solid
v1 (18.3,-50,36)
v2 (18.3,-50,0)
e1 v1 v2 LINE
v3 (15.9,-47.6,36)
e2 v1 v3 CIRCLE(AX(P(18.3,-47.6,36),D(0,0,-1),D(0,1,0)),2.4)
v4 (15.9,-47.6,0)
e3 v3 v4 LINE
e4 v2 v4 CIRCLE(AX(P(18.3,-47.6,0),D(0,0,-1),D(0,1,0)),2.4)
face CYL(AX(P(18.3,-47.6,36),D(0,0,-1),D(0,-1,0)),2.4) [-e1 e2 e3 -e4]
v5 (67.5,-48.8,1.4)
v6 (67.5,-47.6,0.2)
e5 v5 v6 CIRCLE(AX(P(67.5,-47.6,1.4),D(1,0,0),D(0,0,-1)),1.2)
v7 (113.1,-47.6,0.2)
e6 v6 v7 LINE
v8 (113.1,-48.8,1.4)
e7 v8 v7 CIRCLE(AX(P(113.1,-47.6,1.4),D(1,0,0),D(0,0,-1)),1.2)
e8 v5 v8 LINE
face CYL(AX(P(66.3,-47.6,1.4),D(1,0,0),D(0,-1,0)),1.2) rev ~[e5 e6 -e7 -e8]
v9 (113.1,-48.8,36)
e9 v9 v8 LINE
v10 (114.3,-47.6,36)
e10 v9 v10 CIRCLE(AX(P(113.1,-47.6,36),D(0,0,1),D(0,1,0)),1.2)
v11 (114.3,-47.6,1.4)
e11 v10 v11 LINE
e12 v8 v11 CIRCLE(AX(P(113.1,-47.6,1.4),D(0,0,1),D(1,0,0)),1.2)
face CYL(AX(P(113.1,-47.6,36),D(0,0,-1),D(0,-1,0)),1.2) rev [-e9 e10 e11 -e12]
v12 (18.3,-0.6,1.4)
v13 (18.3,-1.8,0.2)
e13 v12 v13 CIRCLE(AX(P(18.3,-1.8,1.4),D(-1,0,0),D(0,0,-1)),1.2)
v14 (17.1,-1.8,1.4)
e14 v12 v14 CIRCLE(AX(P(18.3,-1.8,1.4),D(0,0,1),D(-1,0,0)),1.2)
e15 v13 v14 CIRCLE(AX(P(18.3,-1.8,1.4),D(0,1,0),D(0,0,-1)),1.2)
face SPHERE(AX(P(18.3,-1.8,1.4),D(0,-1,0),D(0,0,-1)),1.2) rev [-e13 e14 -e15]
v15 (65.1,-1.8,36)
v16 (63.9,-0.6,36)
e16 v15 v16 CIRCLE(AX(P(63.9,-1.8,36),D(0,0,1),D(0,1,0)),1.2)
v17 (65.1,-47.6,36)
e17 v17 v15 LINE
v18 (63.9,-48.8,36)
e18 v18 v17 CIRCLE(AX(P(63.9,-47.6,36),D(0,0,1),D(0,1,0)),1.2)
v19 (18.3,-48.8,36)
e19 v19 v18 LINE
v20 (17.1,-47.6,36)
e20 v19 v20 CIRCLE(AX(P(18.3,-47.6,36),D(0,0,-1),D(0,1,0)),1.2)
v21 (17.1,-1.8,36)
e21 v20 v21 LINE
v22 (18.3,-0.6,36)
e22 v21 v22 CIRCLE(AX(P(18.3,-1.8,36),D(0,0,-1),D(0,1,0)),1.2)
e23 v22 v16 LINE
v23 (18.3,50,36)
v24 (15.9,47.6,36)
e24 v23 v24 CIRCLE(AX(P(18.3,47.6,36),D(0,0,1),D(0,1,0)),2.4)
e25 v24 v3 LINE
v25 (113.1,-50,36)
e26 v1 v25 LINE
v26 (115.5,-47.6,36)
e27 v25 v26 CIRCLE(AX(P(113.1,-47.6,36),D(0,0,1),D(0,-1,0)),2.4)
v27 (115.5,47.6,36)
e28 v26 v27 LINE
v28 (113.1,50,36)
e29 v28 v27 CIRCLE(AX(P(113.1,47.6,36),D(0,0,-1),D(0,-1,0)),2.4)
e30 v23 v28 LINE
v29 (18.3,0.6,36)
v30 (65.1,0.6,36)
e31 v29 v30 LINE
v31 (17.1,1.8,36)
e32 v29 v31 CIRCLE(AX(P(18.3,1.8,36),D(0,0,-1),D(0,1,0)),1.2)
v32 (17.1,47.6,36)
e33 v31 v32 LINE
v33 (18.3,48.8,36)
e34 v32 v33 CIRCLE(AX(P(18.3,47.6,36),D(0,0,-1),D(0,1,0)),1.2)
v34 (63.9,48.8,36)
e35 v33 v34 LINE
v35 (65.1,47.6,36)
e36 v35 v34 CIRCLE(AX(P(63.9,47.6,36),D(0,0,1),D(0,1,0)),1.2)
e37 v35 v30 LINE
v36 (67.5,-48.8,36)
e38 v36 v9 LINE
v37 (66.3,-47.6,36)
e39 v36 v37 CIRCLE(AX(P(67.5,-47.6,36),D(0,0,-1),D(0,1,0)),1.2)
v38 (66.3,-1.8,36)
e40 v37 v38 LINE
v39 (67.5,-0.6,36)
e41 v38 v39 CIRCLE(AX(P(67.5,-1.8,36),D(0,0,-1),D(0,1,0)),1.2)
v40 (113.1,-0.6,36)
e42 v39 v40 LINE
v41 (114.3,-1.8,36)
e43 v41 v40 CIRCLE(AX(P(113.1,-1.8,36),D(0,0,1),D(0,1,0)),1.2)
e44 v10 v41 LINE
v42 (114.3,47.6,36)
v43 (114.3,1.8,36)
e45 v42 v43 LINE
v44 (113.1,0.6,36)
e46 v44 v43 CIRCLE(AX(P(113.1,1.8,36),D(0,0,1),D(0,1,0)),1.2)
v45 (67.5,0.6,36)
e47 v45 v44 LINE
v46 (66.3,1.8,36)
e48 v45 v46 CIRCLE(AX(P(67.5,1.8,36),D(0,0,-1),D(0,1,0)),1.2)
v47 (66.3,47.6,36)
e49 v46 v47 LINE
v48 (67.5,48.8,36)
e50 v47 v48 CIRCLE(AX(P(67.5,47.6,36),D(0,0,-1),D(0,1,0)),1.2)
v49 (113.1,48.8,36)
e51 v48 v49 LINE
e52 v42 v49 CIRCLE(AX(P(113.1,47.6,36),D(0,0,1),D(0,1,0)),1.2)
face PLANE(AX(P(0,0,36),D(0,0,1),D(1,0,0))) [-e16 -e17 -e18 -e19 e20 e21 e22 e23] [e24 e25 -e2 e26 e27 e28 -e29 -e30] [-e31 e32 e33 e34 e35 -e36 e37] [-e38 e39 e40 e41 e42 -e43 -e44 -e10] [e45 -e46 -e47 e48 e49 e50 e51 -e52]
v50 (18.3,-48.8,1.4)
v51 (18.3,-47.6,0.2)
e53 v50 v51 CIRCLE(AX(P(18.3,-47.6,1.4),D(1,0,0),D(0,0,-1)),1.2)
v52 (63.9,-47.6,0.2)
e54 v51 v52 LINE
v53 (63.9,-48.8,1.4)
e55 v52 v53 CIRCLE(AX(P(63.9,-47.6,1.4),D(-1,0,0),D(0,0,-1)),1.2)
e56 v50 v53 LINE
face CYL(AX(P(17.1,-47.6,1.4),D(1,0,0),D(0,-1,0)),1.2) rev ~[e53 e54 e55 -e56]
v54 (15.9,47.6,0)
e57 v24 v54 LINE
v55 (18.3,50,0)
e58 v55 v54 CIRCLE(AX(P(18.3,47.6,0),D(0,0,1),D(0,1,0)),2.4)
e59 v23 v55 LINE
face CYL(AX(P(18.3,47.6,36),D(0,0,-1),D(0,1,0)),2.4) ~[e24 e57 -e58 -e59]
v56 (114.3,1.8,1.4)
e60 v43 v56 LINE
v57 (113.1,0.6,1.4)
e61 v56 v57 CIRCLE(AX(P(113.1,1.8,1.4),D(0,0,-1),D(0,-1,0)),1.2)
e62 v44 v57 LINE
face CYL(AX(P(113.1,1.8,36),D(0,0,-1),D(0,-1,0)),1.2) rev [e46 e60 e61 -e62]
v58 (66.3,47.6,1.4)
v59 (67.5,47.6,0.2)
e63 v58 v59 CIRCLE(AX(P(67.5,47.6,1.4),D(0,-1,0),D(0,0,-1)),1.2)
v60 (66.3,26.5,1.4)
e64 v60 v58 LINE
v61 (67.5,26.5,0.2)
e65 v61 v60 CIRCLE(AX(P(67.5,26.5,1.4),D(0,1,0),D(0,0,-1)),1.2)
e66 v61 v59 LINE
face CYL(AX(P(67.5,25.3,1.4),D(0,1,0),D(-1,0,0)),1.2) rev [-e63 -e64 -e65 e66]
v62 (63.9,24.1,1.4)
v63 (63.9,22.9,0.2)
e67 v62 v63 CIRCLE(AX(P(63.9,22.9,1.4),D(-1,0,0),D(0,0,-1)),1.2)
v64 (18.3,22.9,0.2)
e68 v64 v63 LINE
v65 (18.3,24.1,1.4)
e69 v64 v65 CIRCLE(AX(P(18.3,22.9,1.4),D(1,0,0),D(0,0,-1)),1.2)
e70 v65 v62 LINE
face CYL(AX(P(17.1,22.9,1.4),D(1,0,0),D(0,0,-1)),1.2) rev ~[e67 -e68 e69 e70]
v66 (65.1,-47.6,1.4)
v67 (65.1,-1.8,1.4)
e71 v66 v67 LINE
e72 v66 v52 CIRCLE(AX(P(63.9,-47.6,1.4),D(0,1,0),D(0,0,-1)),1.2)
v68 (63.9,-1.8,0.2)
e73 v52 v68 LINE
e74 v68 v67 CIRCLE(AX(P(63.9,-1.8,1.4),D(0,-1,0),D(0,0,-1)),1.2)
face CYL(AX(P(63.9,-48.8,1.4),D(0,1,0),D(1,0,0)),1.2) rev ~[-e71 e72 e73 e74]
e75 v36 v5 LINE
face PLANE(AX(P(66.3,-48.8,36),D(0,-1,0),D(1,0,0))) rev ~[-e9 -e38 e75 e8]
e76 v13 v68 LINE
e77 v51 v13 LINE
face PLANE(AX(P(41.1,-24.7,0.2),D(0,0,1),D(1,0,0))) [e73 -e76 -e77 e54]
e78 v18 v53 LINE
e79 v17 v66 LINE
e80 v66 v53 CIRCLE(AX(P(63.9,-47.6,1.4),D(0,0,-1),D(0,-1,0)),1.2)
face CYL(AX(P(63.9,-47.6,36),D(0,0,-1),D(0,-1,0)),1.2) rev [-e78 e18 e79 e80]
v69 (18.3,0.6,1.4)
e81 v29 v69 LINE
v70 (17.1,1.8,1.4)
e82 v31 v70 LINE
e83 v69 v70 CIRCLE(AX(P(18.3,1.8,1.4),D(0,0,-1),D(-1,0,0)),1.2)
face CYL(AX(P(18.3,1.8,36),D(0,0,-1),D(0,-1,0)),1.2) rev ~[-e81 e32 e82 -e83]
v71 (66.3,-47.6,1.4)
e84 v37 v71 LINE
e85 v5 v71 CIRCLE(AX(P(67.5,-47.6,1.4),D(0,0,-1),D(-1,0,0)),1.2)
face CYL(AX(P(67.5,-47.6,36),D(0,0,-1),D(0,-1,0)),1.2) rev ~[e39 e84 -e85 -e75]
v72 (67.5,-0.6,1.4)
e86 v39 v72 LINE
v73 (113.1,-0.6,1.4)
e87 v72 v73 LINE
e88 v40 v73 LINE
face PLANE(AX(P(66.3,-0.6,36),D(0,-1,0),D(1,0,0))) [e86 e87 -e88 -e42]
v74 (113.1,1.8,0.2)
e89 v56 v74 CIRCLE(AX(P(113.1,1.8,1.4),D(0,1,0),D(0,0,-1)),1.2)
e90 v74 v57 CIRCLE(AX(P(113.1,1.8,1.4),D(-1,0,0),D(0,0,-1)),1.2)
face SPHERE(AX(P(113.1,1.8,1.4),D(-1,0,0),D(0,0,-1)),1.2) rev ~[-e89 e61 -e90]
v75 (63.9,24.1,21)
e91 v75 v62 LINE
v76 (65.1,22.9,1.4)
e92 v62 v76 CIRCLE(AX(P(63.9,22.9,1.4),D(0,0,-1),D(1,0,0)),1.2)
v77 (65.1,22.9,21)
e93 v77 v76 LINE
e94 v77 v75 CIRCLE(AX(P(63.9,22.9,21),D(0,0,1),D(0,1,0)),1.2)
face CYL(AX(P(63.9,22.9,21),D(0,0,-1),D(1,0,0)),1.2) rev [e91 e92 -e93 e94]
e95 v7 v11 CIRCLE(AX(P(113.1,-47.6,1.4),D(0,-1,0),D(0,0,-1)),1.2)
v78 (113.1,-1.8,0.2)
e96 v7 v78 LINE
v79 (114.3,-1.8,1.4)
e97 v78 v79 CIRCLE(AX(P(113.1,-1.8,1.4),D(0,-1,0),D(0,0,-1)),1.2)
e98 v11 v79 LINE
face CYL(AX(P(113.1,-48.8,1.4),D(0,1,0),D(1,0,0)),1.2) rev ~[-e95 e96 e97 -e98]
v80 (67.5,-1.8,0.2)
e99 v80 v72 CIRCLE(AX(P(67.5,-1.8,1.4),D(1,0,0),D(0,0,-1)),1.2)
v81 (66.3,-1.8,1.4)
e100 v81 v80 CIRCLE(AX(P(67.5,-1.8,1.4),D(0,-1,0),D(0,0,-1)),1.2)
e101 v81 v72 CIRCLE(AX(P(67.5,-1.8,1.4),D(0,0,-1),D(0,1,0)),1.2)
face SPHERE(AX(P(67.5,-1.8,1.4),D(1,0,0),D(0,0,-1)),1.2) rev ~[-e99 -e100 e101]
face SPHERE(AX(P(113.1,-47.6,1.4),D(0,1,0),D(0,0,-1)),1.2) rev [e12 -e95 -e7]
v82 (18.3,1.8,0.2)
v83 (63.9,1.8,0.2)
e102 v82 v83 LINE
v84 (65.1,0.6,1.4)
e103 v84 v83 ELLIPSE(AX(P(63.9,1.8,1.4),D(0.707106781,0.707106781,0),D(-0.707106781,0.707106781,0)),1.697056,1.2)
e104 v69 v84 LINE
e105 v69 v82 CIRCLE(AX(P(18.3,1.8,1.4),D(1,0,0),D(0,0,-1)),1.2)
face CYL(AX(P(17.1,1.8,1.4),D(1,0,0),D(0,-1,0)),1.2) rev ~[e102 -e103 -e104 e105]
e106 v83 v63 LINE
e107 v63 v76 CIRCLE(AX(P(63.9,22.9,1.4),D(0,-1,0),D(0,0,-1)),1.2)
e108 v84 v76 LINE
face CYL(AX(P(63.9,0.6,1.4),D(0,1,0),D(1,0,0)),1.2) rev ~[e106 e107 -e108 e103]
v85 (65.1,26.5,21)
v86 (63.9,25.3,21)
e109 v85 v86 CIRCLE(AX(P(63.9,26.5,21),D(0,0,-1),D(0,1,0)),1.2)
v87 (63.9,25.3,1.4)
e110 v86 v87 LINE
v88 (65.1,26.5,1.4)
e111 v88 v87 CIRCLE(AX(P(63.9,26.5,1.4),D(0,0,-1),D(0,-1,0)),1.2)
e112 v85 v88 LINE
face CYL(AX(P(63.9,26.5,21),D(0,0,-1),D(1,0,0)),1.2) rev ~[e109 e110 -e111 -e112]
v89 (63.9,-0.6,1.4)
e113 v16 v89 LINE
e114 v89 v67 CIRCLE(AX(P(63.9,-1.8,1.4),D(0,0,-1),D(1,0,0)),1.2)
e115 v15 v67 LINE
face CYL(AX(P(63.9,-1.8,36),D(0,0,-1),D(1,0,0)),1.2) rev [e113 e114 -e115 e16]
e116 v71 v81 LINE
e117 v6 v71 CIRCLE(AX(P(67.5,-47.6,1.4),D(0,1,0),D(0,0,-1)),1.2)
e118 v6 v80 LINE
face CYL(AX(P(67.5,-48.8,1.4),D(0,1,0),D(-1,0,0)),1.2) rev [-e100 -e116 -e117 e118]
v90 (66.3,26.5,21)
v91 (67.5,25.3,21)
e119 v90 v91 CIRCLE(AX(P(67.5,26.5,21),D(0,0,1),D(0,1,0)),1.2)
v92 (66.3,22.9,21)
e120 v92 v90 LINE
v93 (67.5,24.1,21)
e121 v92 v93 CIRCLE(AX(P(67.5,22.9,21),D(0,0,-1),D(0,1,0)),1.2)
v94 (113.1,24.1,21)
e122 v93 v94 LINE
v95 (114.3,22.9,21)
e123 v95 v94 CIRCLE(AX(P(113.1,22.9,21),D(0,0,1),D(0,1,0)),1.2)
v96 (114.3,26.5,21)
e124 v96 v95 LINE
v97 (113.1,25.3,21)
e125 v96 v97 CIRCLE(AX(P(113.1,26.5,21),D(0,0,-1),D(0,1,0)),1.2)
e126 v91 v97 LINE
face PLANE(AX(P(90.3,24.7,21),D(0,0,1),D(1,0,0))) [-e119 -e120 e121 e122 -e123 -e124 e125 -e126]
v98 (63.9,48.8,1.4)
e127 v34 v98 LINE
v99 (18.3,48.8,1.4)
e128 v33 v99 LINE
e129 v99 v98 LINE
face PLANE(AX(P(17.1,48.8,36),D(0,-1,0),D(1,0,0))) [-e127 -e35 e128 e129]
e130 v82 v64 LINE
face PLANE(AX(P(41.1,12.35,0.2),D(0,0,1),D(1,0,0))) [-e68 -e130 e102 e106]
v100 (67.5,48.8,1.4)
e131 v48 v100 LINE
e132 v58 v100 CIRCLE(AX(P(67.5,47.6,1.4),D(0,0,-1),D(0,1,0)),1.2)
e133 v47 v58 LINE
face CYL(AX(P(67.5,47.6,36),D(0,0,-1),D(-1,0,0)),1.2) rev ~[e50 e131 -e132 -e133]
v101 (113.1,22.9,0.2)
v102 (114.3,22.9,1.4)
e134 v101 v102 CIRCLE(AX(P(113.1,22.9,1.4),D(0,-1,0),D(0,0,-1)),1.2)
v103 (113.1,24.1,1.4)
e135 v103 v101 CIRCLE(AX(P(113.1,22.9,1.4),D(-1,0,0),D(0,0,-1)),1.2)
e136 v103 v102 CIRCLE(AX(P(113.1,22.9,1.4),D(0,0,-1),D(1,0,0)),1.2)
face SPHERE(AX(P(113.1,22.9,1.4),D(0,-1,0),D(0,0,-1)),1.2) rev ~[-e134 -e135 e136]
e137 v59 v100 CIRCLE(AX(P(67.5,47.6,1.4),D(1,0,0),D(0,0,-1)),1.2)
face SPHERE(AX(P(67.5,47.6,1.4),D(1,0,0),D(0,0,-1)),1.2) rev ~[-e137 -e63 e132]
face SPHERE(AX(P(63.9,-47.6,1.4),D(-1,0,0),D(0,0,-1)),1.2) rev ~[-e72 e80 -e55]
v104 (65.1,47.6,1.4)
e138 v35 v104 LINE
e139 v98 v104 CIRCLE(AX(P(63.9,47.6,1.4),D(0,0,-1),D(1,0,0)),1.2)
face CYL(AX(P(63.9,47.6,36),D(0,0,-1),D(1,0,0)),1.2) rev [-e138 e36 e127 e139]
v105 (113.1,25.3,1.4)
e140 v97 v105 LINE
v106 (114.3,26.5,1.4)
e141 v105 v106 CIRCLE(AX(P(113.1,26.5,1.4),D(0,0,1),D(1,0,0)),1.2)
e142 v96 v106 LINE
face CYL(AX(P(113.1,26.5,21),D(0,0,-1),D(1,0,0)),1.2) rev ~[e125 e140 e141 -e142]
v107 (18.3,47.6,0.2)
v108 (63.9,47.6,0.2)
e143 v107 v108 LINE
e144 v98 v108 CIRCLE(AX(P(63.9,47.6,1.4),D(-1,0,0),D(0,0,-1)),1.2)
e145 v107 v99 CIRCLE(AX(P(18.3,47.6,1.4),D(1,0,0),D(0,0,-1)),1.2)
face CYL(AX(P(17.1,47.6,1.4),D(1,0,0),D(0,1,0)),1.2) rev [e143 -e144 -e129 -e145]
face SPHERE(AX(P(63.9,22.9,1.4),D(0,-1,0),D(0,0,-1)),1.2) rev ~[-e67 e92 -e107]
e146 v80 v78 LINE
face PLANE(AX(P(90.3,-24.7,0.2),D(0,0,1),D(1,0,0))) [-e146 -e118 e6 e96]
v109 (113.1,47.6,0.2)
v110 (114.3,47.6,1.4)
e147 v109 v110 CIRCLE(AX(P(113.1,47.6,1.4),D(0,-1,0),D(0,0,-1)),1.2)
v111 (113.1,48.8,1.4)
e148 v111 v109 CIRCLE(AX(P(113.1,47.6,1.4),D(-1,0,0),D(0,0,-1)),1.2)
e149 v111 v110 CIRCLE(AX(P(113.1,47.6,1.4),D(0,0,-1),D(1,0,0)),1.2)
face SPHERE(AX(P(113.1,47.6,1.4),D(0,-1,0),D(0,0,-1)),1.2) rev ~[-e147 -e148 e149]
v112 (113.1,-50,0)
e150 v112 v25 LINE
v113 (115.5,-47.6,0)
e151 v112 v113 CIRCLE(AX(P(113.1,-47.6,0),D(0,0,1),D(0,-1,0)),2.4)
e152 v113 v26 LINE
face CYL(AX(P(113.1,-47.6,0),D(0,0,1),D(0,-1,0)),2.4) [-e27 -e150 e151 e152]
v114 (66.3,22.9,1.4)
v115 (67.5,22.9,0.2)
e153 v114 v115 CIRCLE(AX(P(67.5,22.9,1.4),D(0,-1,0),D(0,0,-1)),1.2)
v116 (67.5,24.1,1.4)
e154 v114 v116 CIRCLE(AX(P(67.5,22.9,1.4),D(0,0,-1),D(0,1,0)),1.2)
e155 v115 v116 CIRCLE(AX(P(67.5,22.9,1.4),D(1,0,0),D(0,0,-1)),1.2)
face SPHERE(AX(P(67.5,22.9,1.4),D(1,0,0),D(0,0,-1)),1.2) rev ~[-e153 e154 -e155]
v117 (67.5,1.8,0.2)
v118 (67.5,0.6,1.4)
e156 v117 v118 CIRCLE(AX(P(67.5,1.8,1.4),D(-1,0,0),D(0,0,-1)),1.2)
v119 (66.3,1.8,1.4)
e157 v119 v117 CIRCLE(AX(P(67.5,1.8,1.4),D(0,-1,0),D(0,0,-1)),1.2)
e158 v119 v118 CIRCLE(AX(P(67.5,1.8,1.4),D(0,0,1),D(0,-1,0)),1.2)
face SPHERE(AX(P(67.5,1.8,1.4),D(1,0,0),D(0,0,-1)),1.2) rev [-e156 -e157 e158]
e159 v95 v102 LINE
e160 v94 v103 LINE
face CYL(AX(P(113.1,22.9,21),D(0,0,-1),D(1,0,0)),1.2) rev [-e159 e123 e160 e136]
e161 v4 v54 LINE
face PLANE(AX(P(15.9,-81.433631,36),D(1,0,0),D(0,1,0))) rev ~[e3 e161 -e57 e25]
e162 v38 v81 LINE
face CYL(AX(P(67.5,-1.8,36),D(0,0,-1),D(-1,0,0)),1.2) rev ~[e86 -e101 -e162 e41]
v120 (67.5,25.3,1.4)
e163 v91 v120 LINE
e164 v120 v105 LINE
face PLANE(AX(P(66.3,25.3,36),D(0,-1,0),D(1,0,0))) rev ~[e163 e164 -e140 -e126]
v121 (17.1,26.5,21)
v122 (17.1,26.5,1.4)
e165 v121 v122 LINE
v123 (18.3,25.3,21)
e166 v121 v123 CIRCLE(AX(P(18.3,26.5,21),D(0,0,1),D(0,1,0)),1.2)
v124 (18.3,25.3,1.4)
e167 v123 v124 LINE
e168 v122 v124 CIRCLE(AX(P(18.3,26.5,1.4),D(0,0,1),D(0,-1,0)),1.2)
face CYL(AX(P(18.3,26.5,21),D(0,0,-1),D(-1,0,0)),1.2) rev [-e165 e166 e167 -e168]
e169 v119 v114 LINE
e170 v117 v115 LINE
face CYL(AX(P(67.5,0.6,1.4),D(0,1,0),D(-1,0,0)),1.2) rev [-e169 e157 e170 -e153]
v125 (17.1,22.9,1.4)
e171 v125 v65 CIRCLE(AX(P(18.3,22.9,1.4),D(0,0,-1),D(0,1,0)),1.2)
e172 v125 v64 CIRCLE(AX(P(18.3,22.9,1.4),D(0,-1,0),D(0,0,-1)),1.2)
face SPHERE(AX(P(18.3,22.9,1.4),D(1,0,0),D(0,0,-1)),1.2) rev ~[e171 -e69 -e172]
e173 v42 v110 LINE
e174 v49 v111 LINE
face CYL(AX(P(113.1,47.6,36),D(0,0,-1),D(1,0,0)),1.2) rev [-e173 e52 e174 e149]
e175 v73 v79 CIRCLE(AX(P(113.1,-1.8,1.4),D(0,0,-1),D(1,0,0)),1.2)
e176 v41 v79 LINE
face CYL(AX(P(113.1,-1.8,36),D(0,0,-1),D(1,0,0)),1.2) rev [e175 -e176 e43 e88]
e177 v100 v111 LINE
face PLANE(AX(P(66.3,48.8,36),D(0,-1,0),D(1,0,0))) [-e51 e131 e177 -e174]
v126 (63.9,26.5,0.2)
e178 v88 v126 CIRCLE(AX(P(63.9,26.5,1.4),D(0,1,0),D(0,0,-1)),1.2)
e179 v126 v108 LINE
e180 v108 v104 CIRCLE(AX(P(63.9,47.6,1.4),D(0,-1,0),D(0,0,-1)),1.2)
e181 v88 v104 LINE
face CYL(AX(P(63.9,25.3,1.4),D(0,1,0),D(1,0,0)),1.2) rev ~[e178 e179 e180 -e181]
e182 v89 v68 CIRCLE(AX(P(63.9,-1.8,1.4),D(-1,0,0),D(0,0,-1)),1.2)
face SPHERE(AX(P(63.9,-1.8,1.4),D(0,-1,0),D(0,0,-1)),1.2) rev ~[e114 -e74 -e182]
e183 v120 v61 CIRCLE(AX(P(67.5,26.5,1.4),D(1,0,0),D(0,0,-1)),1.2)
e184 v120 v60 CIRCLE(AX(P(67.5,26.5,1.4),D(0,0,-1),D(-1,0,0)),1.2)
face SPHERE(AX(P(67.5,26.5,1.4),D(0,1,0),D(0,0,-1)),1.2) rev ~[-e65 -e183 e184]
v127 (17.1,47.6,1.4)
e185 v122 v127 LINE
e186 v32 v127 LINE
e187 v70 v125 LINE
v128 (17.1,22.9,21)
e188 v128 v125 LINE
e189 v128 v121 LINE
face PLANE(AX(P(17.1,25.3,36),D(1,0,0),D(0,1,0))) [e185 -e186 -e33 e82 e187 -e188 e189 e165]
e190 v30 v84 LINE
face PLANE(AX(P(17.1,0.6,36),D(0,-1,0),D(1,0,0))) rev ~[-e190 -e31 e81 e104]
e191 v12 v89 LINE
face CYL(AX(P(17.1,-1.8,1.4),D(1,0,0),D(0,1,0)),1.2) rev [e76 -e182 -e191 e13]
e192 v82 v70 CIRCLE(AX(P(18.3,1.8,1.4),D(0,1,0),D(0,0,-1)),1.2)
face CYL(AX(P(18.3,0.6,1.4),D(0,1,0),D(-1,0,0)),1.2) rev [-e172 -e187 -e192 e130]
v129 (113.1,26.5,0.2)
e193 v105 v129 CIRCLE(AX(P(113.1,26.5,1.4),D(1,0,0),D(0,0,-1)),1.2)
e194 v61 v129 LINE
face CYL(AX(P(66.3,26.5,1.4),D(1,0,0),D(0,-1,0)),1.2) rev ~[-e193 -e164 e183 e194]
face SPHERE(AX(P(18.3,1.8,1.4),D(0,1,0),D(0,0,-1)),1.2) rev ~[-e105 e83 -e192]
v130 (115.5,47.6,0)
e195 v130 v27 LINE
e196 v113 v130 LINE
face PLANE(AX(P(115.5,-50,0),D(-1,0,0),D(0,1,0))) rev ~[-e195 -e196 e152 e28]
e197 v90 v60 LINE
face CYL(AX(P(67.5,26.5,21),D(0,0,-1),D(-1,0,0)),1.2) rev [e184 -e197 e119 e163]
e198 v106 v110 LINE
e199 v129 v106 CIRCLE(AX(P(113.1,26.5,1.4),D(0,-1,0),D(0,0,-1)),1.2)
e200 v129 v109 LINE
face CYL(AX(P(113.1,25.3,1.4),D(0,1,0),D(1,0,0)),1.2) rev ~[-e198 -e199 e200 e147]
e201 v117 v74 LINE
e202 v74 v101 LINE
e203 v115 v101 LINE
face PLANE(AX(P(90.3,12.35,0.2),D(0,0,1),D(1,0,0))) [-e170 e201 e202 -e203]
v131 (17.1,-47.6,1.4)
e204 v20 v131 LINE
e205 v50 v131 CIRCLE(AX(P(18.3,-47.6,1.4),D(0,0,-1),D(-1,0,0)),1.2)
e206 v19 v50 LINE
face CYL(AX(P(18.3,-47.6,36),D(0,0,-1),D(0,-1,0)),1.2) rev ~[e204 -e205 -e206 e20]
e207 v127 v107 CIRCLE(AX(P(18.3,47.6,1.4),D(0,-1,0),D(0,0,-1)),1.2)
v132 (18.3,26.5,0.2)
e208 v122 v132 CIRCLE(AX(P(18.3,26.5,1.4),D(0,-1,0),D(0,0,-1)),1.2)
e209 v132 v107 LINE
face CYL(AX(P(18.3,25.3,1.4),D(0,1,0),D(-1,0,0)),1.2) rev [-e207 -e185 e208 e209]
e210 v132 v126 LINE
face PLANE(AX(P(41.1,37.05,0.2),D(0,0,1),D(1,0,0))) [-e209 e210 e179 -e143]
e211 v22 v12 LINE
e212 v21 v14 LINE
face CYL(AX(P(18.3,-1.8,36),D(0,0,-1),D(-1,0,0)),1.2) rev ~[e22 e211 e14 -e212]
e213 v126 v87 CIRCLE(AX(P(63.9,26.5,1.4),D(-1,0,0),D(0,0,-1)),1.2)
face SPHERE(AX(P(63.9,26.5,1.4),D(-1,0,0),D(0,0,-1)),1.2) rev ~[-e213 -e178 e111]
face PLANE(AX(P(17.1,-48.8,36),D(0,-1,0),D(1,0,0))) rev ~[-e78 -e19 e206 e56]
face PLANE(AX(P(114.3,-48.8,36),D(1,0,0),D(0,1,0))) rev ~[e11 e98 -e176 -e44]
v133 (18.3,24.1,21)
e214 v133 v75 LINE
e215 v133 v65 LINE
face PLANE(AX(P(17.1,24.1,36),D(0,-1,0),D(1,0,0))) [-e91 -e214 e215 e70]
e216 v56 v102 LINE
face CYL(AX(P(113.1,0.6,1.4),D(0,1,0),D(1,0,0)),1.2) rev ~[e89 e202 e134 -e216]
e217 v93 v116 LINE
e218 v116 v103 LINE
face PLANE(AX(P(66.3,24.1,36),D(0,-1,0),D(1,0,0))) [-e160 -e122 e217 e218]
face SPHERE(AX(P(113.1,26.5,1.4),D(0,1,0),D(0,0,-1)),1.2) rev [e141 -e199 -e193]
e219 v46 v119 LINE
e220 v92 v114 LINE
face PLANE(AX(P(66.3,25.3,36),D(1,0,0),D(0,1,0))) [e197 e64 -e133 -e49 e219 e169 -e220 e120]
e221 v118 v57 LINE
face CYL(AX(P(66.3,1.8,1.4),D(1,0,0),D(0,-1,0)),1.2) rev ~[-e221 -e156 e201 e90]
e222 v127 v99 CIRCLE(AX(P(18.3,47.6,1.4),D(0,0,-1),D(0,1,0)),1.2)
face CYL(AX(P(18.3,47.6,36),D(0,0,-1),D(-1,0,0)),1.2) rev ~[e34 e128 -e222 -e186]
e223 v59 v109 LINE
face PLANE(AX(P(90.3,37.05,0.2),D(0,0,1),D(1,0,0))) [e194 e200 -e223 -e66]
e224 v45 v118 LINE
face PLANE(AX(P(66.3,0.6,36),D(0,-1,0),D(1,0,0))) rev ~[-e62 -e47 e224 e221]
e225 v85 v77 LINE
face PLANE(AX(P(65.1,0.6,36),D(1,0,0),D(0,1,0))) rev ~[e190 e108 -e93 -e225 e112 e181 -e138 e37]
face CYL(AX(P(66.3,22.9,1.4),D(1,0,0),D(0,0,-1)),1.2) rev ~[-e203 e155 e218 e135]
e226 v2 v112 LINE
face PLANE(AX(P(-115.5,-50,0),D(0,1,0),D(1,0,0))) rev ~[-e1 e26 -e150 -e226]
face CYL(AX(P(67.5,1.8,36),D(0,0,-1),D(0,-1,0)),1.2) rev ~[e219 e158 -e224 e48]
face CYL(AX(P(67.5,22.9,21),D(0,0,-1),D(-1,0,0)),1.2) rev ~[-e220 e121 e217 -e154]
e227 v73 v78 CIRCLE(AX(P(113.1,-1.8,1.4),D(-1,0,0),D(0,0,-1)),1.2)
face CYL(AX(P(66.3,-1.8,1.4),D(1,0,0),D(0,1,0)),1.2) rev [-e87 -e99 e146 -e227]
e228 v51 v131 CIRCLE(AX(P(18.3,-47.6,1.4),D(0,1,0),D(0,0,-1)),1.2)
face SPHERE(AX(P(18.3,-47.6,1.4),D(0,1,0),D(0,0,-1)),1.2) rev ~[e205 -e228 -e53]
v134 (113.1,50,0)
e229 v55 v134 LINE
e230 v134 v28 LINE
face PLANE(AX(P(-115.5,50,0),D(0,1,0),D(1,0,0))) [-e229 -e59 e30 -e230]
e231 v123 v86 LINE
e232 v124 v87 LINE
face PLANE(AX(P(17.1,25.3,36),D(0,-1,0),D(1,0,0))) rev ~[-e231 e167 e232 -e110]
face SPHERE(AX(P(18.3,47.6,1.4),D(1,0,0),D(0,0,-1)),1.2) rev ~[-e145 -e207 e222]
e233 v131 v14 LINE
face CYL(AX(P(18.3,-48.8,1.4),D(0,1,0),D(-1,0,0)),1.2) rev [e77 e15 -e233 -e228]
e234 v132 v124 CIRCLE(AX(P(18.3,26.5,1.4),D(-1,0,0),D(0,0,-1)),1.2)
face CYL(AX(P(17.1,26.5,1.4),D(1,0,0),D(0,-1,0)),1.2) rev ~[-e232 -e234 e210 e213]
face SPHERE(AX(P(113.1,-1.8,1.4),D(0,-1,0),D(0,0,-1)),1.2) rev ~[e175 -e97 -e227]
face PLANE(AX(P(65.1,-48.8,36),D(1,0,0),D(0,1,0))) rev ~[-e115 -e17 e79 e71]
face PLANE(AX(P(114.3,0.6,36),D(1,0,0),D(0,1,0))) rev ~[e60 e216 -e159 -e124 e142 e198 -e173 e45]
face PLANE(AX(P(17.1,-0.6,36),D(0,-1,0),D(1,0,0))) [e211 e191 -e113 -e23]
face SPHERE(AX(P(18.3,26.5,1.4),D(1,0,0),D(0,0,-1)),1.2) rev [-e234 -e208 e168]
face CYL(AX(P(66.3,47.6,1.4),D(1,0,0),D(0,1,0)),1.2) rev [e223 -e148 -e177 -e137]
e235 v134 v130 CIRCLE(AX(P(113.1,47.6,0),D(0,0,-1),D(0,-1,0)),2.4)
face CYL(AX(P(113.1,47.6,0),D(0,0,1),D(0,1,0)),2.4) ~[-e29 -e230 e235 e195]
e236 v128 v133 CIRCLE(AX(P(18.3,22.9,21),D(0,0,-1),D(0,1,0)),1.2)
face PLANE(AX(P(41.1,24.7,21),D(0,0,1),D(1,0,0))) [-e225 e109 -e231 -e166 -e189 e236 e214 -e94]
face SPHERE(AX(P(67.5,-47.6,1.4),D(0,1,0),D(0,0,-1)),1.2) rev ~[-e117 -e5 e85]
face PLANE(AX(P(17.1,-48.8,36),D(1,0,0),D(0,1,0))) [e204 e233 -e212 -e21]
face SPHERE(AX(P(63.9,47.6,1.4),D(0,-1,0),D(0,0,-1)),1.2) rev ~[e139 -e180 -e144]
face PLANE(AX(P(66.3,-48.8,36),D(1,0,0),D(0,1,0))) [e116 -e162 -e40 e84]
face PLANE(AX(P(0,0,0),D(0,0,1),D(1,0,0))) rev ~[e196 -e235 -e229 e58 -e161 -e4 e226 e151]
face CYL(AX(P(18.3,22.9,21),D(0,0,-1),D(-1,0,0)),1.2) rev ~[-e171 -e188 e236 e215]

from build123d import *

# Parameters (mm, degrees)
F0_W      = 231
F0_H      = 100
F1_DEPTH  = 36
F2_W      = 48
F2_H      = 23.5
F2_H_2    = 48.2
F3_DEPTH  = 35.8
F4_W      = 48
F4_H      = 1.2
F5_DEPTH  = 15
F6_W      = 48
F6_H      = 97.6
F6_W_2    = 81
F7_DEPTH  = 35.8
F8_R      = 2.4
F9_R      = 1.2
F10_W     = 145.4325905085
F10_H     = 144.5563584566
F11_DEPTH = 40
F12_R     = 2.4


with BuildPart() as f1:
    # F0 (on Top) → F1 (new body)
    with BuildSketch(Plane.XY):
        Rectangle(F0_W, F0_H)
    extrude(amount=F1_DEPTH)

    # F2 (on face) → F3 (cut)
    with BuildSketch(Plane.XY.offset(36)):
        with Locations((41.1, 37.05)):
            Rectangle(F2_W, F2_H)
        with Locations((90.3, 37.05)):
            Rectangle(F2_W, F2_H)
        with Locations((41.1, 12.35)):
            Rectangle(F2_W, F2_H)
        with Locations((90.3, 12.35)):
            Rectangle(F2_W, F2_H)
        with Locations((41.1, -24.7)):
            Rectangle(F2_W, F2_H_2)
        with Locations((90.3, -24.7)):
            Rectangle(F2_W, F2_H_2)
    extrude(amount=-F3_DEPTH, mode=Mode.SUBTRACT)

    # F4 (on face) → F5 (cut)
    with BuildSketch(Plane.XY.offset(36)):
        with Locations((41.1, 24.7)):
            Rectangle(F4_W, F4_H)
        with Locations((90.3, 24.7)):
            Rectangle(F4_W, F4_H)
    extrude(amount=-F5_DEPTH, mode=Mode.SUBTRACT)

    # F6 (on face) → F7 (cut)
    with BuildSketch(Plane.XY.offset(36)):
        with Locations((-90.3, 0)):
            Rectangle(F6_W, F6_H)
        with Locations((-24.6, 0)):
            Rectangle(F6_W_2, F6_H)
    extrude(amount=-F7_DEPTH, mode=Mode.SUBTRACT)

    # F8
    f8_edges = [f1.edges().sort_by_distance(p)[0] for p in [
        (-115.5, -50, 18),
        (-115.5, 50, 18),
        (115.5, 50, 18),
        (115.5, -50, 18),
    ]]
    fillet(f8_edges, radius=F8_R)

    # F9
    f9_edges = [f1.edges().sort_by_distance(p)[0] for p in [
        (-90.3, 48.8, 0.2),
        (-114.3, 0, 0.2),
        (-90.3, -48.8, 0.2),
        (-66.3, 0, 0.2),
        (-24.6, 48.8, 0.2),
        (-65.1, 0, 0.2),
        (-24.6, -48.8, 0.2),
        (15.9, 0, 0.2),
        (41.1, 25.3, 0.2),
        (65.1, 37.05, 0.2),
        (41.1, 48.8, 0.2),
        (17.1, 37.05, 0.2),
        (114.3, 37.05, 0.2),
        (90.3, 48.8, 0.2),
        (66.3, 37.05, 0.2),
        (90.3, 25.3, 0.2),
        (65.1, 12.35, 0.2),
        (41.1, 24.1, 0.2),
        (17.1, 12.35, 0.2),
        (41.1, 0.6, 0.2),
        (90.3, 0.6, 0.2),
        (114.3, 12.35, 0.2),
        (90.3, 24.1, 0.2),
        (66.3, 12.35, 0.2),
        (17.1, -24.7, 0.2),
        (41.1, -48.8, 0.2),
        (65.1, -24.7, 0.2),
        (41.1, -0.6, 0.2),
        (114.3, -24.7, 0.2),
        (90.3, -0.6, 0.2),
        (66.3, -24.7, 0.2),
        (90.3, -48.8, 0.2),
        (-114.3, 48.8, 18.1),
        (-65.1, 48.8, 18.1),
        (-66.3, 48.8, 18.1),
        (-66.3, -48.8, 18.1),
        (-114.3, -48.8, 18.1),
        (15.9, 48.8, 18.1),
        (15.9, -48.8, 18.1),
        (-65.1, -48.8, 18.1),
        (17.1, -48.8, 18.1),
        (17.1, 0.6, 18.1),
        (17.1, 25.3, 10.6),
        (17.1, 48.8, 18.1),
        (17.1, 24.1, 10.6),
        (17.1, -0.6, 18.1),
        (65.1, -0.6, 18.1),
        (65.1, -48.8, 18.1),
        (65.1, 24.1, 10.6),
        (65.1, 25.3, 10.6),
        (65.1, 48.8, 18.1),
        (66.3, 48.8, 18.1),
        (114.3, 48.8, 18.1),
        (114.3, 24.1, 10.6),
        (114.3, 25.3, 10.6),
        (66.3, 25.3, 10.6),
        (66.3, 24.1, 10.6),
        (66.3, 0.6, 18.1),
        (66.3, -0.6, 18.1),
        (114.3, -0.6, 18.1),
        (114.3, 0.6, 18.1),
        (114.3, -48.8, 18.1),
        (66.3, -48.8, 18.1),
    ]]
    fillet(f9_edges, radius=F9_R)

    # F10 (on face) → F11 (cut)
    with BuildSketch(Plane.XY.offset(36)):
        with Locations((-56.8162952542, -9.1554522514)):
            Rectangle(F10_W, F10_H)
    extrude(amount=-F11_DEPTH, mode=Mode.SUBTRACT)

    # F12
    f12_edges = [f1.edges().sort_by_distance(p)[0] for p in [
        (15.9, 50, 18),
        (15.9, -50, 18),
    ]]
    fillet(f12_edges, radius=F12_R)


solid = f1.part
